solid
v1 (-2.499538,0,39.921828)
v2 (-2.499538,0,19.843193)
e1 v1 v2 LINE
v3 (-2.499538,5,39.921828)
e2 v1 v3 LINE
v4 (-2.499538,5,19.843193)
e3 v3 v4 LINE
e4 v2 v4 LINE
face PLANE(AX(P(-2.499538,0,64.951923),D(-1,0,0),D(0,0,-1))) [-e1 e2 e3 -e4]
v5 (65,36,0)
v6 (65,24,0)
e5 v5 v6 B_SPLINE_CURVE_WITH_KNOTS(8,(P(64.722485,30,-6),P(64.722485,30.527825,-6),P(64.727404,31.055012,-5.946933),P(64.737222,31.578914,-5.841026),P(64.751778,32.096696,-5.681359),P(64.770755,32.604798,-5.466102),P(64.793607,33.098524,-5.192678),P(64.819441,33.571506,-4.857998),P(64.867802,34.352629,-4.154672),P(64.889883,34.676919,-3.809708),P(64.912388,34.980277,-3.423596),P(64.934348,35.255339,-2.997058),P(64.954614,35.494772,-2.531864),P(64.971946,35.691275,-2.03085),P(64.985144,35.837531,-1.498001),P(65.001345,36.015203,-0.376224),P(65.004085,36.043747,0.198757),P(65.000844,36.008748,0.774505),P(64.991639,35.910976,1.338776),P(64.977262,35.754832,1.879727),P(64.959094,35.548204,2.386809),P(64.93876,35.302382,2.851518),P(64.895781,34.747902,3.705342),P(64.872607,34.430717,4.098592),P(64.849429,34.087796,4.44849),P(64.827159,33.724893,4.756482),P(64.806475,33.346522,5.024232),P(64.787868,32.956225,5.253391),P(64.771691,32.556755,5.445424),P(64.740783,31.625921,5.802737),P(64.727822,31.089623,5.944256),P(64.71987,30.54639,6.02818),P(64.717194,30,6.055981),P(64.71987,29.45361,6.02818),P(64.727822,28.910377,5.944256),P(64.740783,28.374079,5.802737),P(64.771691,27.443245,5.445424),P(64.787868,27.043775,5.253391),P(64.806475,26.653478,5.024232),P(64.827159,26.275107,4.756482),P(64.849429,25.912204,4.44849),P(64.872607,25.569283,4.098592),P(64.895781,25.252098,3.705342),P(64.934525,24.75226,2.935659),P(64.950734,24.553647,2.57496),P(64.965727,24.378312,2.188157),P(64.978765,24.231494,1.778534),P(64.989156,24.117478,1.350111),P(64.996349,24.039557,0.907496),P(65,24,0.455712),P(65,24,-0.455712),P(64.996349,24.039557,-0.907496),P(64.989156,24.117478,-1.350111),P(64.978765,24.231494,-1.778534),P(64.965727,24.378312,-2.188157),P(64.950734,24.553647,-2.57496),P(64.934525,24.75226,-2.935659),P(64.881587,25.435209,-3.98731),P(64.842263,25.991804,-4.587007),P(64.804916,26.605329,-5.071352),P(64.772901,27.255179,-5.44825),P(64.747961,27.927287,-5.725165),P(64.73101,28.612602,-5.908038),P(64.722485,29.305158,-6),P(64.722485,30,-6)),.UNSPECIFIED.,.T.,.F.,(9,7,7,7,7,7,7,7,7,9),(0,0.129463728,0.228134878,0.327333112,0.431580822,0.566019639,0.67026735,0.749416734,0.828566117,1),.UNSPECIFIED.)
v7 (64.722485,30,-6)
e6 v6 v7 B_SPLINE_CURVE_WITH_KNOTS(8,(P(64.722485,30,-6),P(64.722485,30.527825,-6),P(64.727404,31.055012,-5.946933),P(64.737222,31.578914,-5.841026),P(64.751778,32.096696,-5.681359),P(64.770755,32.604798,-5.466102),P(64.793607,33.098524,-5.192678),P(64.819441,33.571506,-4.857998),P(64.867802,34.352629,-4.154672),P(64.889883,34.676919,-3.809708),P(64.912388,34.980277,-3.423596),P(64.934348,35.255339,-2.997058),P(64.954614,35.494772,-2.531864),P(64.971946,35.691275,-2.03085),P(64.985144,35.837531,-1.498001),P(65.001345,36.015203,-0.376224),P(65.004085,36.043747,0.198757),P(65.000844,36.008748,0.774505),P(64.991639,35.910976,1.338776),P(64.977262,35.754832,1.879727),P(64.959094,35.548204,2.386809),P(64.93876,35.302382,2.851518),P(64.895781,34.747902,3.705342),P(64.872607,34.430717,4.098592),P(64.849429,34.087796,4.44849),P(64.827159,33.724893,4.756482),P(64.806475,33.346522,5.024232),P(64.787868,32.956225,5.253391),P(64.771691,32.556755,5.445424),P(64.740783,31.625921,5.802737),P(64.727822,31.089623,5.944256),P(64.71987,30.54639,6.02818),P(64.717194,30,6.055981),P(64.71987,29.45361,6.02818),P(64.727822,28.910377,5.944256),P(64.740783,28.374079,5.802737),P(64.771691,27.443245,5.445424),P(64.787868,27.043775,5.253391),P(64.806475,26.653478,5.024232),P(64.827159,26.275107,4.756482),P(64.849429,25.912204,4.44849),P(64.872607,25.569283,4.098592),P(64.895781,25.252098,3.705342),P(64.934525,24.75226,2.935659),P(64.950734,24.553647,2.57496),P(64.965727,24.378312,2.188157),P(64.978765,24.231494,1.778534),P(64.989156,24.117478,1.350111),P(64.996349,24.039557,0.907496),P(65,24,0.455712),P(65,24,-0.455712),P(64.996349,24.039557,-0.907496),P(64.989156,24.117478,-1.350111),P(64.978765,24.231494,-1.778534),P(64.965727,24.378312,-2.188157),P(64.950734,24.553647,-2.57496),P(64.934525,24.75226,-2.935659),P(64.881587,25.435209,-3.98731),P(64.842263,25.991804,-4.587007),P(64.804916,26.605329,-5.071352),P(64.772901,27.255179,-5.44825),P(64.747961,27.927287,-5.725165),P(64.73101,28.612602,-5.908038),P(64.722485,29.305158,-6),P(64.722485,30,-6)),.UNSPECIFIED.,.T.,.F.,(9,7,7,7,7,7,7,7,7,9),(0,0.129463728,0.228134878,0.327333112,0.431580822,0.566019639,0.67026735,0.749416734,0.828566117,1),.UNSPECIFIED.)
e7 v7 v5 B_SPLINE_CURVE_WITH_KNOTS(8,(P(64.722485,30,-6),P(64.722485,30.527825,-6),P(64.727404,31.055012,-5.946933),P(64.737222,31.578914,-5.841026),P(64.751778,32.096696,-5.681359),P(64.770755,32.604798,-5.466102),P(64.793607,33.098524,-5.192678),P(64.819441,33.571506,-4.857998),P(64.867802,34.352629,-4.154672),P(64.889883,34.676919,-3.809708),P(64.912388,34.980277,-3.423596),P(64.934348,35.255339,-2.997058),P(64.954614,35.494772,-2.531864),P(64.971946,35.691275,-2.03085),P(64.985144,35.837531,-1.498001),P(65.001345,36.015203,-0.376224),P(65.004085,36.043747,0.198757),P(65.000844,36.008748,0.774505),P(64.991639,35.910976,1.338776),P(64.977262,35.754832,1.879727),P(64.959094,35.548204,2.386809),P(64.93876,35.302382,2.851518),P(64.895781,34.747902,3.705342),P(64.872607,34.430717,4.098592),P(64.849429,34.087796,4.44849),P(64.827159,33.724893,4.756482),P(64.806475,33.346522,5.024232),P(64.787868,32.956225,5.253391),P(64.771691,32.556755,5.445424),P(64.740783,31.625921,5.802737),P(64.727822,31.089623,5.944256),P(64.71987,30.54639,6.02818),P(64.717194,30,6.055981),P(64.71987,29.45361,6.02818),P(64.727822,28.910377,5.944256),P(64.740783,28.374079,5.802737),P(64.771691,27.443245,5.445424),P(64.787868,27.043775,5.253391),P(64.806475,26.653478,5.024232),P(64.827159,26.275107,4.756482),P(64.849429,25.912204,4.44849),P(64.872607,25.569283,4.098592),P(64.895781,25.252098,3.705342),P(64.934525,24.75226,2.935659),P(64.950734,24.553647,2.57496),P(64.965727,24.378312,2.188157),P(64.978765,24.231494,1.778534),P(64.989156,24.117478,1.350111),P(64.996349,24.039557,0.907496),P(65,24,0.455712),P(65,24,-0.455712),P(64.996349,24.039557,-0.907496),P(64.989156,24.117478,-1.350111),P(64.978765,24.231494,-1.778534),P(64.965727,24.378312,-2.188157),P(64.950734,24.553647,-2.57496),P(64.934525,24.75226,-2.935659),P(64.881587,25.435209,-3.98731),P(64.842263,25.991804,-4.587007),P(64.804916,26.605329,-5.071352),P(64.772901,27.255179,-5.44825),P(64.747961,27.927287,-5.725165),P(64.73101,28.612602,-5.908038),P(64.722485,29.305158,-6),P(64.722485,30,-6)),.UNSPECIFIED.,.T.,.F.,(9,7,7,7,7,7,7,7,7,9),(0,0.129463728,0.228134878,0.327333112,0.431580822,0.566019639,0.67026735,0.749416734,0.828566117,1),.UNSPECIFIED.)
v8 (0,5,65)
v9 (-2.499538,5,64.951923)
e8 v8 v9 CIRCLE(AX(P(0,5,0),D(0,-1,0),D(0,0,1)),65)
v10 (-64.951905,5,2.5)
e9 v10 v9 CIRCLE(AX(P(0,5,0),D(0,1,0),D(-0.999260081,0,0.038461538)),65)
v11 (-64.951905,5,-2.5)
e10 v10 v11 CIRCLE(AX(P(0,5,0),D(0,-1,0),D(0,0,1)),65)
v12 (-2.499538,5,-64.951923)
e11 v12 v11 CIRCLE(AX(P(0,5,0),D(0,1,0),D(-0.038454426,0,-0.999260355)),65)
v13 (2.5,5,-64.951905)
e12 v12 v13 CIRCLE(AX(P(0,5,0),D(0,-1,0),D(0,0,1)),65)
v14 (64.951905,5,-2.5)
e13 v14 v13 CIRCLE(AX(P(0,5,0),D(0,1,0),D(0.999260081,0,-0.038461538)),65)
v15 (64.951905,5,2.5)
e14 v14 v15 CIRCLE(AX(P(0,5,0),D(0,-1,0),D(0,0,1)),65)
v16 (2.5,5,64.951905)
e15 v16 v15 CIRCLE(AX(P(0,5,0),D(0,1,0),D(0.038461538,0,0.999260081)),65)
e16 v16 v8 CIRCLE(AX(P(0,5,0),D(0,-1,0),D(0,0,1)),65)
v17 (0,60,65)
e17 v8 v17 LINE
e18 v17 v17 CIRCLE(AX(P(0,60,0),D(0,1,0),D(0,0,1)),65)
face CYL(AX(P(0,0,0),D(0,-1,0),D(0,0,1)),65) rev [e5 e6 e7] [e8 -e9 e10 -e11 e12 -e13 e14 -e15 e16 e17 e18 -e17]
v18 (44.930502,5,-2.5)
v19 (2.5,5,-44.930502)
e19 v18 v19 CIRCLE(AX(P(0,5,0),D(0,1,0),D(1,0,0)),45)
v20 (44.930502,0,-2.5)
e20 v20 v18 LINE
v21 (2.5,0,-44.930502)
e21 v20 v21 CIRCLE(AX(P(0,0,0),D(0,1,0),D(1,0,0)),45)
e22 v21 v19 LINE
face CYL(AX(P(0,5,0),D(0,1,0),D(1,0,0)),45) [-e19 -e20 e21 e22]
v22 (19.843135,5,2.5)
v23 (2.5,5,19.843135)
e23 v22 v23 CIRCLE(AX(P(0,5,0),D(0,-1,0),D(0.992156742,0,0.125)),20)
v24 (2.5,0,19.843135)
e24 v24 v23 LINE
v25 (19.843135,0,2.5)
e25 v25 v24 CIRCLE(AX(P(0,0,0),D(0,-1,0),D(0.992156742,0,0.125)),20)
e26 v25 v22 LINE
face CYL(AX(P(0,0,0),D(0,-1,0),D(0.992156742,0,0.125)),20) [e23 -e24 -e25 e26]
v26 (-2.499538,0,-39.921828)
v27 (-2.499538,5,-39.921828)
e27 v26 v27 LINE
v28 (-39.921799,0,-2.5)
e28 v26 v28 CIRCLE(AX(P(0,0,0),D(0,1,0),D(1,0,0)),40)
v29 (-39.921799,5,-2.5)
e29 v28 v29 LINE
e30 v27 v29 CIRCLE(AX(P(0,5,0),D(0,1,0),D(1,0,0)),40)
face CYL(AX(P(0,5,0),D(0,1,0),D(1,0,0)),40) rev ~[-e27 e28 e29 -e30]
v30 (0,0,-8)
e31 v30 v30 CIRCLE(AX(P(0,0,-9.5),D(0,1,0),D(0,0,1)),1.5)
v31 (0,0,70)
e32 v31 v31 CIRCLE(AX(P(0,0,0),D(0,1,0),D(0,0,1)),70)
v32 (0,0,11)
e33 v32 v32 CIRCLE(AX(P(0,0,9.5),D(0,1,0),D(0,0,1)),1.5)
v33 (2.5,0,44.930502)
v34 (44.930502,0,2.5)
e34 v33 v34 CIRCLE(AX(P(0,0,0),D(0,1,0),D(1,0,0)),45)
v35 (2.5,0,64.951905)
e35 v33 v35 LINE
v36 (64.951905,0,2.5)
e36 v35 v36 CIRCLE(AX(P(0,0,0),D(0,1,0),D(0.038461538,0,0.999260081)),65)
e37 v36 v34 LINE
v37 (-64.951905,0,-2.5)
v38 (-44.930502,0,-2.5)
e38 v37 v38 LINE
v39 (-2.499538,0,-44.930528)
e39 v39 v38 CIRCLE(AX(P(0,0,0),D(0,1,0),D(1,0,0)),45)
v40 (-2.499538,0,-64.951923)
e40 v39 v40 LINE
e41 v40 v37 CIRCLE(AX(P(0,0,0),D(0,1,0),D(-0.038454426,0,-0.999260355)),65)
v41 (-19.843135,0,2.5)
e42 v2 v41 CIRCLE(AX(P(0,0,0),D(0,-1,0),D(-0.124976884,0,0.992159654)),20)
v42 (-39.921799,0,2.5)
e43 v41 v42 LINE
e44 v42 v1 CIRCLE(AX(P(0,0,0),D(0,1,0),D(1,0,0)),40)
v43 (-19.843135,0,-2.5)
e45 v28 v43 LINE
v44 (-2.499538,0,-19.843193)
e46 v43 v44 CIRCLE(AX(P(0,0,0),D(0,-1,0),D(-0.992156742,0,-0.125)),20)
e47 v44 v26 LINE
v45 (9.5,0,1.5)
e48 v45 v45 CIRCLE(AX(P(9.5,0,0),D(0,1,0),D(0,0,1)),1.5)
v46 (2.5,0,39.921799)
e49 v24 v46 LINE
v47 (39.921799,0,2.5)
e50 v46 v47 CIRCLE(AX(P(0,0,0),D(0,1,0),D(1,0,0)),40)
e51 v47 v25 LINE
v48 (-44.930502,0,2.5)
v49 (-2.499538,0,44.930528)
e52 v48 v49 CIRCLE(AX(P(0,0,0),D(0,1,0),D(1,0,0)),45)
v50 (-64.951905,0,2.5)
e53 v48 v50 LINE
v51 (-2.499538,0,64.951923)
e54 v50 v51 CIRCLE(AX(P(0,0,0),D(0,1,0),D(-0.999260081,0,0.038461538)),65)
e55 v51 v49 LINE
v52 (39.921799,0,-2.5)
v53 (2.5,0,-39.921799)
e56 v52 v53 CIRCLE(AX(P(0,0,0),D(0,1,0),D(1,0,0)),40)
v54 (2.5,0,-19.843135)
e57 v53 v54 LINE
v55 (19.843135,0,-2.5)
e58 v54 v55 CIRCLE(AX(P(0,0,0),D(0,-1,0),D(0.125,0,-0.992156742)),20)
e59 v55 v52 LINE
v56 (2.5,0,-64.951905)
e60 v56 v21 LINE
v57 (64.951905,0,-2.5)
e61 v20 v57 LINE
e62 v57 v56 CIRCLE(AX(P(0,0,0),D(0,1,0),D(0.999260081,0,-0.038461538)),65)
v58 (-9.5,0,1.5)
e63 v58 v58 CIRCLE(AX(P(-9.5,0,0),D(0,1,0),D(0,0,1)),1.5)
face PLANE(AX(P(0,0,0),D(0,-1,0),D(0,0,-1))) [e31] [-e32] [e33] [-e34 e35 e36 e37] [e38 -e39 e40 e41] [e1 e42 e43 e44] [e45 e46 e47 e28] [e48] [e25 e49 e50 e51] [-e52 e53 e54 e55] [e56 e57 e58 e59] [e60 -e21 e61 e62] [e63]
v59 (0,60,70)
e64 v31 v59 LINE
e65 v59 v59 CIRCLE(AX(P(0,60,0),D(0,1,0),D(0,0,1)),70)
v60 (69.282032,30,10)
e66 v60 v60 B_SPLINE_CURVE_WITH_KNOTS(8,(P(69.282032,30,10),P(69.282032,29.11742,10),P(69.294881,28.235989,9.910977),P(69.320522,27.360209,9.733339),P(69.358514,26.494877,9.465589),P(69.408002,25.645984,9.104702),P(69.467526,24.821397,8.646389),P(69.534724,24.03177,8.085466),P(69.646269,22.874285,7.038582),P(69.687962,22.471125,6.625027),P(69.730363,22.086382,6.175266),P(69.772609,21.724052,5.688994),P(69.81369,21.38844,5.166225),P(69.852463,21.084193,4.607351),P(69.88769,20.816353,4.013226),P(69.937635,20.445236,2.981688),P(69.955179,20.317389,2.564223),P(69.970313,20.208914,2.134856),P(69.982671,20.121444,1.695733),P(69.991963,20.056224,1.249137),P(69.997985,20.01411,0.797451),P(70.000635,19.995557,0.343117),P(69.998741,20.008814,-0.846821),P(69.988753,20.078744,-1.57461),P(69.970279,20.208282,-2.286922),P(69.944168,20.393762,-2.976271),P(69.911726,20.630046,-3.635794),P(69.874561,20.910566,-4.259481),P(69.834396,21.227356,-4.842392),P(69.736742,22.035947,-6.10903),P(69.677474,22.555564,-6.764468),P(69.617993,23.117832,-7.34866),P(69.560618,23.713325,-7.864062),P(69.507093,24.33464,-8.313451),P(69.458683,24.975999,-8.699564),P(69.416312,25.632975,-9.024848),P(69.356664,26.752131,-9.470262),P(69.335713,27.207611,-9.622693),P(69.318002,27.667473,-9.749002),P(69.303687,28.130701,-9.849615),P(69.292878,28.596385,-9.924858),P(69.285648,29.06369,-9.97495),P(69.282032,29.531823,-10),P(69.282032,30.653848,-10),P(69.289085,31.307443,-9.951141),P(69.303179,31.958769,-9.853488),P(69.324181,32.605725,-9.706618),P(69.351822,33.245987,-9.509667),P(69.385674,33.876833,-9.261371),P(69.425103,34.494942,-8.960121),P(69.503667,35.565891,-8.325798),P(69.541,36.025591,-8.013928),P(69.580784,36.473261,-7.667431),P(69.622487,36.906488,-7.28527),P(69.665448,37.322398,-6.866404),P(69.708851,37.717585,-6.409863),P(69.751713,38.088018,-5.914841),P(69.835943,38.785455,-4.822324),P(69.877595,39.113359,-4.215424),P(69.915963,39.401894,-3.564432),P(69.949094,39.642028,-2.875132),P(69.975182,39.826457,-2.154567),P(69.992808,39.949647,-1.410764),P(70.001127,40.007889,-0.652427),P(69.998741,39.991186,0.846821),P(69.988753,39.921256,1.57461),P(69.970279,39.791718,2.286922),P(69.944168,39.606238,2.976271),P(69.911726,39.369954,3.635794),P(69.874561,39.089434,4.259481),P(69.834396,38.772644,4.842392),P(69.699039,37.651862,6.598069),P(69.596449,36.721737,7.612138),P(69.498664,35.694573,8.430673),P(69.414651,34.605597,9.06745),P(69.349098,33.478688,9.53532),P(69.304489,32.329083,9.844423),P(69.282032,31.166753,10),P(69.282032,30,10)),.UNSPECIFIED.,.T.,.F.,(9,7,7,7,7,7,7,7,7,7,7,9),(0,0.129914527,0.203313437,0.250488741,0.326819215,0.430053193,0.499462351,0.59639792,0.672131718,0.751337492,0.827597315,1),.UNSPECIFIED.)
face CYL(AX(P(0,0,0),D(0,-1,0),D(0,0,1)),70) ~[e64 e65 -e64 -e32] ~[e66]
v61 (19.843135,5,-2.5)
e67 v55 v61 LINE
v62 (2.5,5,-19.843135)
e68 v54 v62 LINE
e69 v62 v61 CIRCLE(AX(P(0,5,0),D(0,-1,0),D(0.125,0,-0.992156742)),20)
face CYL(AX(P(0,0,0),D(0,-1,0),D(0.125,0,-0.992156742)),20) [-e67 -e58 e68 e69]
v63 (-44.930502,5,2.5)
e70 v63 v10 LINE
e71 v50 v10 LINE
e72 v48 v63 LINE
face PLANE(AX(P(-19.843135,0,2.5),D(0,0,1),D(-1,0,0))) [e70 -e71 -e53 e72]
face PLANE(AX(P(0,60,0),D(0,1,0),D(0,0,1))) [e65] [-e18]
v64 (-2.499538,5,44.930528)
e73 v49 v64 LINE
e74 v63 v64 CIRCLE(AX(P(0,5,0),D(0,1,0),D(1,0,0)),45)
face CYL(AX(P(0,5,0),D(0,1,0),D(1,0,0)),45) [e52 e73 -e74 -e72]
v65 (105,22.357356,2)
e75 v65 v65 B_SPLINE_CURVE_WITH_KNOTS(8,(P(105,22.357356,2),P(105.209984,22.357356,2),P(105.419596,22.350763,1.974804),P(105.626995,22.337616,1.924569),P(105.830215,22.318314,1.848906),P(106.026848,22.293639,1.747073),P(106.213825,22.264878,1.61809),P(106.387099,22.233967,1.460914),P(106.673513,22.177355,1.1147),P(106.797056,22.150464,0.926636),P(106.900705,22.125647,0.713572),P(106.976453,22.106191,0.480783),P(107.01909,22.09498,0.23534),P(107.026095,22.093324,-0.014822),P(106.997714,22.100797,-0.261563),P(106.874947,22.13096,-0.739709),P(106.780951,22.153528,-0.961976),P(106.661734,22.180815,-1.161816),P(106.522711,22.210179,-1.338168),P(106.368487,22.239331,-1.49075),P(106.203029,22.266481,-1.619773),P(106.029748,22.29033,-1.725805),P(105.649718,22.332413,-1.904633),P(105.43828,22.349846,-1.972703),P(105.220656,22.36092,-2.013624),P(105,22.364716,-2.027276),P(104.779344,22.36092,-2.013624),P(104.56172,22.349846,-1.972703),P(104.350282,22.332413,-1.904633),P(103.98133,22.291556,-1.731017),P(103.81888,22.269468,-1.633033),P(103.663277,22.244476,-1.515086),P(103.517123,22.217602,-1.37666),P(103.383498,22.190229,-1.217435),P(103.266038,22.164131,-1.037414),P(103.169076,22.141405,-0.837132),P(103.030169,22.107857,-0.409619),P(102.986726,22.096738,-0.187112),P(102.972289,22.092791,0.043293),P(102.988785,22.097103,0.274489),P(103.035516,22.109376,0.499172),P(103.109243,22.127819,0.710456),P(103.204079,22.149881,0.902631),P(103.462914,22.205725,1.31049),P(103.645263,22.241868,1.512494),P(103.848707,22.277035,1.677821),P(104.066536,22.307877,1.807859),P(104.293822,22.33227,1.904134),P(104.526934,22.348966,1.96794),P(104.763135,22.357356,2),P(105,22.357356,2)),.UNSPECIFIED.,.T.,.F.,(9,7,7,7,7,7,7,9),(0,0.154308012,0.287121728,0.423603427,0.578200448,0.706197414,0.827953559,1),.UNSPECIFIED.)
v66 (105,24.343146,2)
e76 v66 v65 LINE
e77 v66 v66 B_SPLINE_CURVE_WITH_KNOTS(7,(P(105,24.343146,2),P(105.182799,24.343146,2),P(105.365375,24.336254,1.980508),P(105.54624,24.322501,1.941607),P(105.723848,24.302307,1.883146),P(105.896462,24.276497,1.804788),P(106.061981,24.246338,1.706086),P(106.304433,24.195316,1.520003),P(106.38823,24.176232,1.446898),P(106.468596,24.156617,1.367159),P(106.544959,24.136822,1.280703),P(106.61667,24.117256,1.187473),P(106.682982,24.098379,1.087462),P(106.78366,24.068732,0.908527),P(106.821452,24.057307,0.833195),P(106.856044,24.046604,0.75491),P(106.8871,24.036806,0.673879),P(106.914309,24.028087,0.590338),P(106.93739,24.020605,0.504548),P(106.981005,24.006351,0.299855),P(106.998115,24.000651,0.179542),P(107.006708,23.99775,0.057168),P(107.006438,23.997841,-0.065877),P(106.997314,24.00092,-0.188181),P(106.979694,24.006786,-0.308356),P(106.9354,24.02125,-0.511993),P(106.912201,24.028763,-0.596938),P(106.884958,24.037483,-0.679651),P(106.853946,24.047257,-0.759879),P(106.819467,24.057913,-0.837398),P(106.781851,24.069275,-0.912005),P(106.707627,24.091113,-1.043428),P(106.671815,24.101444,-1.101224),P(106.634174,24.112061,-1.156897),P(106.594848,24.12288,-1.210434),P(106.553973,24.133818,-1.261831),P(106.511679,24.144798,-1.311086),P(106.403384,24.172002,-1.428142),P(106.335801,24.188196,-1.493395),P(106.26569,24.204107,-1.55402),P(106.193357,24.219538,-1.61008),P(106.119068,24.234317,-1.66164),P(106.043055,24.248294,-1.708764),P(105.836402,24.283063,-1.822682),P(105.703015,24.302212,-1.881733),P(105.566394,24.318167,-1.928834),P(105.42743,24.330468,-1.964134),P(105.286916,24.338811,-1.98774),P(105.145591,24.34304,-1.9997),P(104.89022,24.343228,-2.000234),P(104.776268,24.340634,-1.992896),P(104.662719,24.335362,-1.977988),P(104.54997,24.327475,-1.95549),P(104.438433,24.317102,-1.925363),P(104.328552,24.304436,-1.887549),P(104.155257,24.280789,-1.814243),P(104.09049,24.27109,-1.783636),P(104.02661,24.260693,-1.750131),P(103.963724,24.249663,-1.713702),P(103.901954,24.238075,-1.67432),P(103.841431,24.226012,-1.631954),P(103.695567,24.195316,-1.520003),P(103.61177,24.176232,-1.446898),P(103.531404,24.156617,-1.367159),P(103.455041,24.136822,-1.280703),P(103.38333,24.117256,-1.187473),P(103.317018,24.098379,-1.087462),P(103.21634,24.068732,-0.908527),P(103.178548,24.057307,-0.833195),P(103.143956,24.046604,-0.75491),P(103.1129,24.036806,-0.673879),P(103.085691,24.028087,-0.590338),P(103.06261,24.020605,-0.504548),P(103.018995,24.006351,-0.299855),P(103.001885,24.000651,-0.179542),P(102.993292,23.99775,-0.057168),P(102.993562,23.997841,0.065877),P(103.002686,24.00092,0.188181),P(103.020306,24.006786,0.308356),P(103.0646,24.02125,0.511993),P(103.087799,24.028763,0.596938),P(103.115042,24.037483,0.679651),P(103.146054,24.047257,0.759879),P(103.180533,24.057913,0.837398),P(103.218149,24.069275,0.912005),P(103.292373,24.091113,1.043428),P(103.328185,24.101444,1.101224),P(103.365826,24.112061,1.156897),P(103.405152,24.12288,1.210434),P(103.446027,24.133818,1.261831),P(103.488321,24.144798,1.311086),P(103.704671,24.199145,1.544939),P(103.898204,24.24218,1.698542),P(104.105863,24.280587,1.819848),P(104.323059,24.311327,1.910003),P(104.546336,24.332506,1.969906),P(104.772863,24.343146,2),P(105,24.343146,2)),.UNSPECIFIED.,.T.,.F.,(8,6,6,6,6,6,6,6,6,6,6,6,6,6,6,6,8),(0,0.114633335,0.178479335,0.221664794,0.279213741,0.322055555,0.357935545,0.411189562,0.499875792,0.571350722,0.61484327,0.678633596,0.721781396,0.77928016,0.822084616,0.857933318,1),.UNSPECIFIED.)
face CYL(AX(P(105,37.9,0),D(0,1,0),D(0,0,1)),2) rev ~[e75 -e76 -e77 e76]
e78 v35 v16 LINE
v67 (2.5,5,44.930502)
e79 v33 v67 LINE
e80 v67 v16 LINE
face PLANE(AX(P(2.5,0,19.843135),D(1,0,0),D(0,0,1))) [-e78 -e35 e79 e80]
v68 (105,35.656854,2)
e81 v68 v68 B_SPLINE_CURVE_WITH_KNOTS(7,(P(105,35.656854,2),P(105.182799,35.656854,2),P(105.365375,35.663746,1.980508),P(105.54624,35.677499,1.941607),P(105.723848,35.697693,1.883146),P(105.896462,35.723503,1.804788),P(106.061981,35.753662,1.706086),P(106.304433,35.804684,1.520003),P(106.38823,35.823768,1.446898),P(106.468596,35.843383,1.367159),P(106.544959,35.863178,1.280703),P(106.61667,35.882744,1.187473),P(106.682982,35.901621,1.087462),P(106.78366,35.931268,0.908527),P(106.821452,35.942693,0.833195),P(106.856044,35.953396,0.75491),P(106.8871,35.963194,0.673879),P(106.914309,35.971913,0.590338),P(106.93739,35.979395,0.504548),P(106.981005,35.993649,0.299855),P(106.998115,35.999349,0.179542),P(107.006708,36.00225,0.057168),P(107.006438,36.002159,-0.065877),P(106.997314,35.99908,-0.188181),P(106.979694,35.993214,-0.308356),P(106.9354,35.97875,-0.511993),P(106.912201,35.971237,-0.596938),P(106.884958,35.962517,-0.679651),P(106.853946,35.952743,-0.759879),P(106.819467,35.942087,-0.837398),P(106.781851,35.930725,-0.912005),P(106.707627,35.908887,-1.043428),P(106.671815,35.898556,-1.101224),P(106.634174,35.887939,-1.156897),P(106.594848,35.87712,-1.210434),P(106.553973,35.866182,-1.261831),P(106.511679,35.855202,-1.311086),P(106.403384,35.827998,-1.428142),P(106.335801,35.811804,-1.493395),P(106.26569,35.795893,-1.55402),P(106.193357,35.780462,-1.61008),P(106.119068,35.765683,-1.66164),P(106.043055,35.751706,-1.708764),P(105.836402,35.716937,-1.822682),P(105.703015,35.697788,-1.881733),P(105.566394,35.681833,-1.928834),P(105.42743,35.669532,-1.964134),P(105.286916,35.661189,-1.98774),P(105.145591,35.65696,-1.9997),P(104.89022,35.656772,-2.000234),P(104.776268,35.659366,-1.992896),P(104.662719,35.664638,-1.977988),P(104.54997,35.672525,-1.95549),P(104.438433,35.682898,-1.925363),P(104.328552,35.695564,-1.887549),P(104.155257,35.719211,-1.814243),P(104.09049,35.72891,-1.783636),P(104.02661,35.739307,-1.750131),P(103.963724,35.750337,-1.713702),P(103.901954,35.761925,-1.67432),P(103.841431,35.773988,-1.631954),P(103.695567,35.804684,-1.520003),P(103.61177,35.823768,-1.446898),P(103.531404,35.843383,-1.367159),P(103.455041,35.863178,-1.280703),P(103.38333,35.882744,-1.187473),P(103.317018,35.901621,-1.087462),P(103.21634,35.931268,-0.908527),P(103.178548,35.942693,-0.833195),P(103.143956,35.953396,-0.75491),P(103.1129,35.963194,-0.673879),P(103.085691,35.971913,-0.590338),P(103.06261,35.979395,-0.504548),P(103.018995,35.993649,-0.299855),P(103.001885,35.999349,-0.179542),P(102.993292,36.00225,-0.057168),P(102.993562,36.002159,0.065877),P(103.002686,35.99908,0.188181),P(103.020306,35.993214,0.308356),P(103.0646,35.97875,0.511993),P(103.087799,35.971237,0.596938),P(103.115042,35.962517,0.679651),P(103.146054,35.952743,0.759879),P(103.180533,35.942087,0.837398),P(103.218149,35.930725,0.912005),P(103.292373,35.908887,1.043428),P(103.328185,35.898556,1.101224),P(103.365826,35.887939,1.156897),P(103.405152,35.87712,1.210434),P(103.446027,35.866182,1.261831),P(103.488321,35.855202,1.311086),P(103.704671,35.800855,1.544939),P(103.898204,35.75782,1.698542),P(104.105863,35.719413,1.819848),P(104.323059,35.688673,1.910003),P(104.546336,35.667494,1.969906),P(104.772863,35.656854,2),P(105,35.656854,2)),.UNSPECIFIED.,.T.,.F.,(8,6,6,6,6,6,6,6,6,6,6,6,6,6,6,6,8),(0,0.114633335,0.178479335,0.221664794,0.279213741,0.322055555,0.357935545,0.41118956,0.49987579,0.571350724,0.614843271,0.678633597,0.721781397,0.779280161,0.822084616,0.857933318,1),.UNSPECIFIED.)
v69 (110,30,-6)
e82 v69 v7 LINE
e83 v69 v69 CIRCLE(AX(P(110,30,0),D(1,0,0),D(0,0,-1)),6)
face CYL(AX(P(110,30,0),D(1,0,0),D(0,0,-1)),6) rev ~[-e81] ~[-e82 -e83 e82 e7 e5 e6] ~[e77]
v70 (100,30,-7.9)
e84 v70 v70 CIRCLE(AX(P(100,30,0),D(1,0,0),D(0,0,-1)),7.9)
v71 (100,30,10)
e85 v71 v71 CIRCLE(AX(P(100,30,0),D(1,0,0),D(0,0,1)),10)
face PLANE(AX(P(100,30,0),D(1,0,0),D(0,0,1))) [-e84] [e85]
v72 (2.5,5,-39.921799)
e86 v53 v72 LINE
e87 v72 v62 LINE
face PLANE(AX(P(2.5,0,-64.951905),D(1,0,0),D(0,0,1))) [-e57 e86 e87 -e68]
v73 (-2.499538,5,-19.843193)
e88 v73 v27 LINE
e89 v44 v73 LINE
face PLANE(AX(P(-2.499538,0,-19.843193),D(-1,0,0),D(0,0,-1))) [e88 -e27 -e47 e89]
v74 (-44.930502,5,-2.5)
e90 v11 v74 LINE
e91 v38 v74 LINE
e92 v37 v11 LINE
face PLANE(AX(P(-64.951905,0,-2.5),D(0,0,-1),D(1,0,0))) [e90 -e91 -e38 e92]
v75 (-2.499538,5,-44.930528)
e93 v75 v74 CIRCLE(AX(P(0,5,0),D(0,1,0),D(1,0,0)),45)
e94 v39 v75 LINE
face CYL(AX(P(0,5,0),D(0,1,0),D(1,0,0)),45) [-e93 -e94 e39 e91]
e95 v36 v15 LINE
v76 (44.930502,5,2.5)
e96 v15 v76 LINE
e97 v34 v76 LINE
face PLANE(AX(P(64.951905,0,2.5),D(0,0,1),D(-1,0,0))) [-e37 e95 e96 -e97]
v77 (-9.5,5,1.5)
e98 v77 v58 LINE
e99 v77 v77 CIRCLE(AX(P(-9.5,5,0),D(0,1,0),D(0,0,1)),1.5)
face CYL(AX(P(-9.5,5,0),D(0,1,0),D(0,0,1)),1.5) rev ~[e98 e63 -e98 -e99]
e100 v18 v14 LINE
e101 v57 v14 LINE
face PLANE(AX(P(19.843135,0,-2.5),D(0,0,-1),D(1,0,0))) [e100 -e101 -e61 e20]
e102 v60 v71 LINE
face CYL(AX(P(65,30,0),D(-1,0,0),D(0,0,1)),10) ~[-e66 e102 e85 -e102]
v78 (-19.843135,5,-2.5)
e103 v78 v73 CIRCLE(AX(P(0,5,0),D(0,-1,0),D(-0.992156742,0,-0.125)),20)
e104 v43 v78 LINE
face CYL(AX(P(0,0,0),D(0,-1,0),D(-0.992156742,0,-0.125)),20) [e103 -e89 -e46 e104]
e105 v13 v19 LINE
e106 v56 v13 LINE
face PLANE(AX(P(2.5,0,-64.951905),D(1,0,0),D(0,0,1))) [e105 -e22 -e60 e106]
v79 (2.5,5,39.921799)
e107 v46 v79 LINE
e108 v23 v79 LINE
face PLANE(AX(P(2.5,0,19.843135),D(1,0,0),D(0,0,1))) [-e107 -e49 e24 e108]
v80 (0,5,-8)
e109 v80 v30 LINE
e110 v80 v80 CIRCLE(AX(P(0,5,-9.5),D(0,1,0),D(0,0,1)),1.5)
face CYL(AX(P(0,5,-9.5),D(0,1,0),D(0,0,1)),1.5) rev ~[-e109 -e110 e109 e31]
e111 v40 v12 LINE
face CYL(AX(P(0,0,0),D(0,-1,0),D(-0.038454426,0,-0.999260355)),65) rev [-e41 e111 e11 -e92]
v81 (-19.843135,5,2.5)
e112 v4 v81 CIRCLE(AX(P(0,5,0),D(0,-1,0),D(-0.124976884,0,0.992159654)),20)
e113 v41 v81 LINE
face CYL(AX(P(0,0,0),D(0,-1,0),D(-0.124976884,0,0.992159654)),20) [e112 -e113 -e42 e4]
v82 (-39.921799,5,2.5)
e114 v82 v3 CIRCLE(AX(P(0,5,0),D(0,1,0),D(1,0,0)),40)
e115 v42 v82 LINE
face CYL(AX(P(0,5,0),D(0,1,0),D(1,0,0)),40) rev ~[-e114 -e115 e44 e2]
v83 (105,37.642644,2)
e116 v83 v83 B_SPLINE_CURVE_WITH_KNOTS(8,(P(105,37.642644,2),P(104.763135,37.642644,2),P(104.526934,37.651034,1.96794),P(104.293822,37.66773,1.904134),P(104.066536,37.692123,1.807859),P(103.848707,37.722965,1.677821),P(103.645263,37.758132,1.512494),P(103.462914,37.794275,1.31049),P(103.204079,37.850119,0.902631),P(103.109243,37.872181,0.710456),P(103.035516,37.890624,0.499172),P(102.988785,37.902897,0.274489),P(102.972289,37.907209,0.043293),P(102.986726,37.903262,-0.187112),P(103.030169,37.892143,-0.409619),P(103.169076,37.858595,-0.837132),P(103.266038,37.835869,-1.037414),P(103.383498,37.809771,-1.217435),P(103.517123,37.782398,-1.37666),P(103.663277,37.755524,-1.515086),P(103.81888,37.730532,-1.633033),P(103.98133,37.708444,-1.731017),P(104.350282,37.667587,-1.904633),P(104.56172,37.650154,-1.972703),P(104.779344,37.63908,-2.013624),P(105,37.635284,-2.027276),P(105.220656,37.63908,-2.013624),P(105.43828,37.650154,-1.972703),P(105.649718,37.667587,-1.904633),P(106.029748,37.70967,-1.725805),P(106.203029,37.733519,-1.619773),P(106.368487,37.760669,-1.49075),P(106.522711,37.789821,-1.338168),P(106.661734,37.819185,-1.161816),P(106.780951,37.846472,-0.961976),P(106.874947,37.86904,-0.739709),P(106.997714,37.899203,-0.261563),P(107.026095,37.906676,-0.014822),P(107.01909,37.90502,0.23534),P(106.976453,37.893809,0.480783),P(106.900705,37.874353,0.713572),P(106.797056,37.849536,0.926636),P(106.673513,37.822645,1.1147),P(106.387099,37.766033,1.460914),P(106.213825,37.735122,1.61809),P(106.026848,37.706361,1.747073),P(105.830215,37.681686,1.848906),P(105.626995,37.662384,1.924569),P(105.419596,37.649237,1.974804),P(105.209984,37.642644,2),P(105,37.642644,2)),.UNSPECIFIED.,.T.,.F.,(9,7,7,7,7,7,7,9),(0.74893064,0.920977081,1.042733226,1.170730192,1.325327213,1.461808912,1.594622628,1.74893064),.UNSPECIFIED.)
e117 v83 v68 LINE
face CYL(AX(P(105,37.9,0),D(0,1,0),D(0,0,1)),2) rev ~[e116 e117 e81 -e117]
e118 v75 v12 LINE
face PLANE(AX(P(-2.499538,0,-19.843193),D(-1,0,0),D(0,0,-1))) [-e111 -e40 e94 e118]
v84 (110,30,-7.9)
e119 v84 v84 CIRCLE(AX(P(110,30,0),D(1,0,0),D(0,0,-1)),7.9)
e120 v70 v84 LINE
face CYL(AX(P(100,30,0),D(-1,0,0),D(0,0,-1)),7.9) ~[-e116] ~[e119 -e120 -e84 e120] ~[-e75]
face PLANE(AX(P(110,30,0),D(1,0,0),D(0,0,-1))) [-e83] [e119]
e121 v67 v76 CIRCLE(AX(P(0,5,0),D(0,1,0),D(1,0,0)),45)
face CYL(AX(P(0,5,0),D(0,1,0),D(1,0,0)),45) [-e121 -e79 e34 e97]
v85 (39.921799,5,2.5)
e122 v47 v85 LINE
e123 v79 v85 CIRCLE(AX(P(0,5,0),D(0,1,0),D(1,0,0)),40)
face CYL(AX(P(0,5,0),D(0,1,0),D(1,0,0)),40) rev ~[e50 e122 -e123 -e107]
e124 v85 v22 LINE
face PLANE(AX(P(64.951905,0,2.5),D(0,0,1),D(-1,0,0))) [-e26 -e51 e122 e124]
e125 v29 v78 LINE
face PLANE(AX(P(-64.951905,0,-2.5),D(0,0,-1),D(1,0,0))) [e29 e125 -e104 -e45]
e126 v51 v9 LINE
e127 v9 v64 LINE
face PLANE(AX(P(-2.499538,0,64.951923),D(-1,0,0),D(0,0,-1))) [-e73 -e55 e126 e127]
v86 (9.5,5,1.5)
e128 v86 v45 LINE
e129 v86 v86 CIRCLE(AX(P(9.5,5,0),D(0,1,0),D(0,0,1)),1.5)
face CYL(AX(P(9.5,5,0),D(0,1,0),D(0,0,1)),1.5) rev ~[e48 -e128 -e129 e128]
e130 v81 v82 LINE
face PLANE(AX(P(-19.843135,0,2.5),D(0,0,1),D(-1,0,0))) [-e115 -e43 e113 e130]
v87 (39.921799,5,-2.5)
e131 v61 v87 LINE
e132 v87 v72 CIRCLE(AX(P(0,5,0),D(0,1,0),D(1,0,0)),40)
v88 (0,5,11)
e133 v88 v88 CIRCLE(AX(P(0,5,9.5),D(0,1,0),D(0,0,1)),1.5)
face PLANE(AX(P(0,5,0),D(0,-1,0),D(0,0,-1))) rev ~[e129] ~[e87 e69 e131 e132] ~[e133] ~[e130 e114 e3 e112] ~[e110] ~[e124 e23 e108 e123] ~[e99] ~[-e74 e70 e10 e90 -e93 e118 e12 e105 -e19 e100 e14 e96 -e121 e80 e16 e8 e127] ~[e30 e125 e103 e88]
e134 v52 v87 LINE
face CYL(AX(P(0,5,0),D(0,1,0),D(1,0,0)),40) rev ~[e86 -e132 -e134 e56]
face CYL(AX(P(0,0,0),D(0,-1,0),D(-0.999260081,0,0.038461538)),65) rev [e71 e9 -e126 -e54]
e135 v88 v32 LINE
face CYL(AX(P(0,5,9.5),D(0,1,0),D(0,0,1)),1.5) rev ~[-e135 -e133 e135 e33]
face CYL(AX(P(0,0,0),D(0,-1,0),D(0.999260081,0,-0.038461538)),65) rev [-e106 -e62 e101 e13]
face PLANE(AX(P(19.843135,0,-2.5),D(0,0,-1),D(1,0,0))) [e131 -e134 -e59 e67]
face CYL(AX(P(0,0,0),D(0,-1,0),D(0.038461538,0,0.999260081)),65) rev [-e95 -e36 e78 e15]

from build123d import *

# Parameters (mm, degrees)
SKETCH1_R                = 70
SKETCH1_R_2              = 65
BOSS_EXTRUDE2_DEPTH      = 60
SKETCH3_R                = 65
BOSS_EXTRUDE4_DEPTH      = 5
CUT_EXTRUDE1_START       = -5
CUT_EXTRUDE1_DEPTH       = 5
SKETCH5_R                = 1.5
CUT_EXTRUDE2_DEPTH       = 5
SKETCH6_R                = 45
SKETCH6_R_2              = 40
BOSS_EXTRUDE5_DEPTH      = 5
BOSS_EXTRUDE7_DEPTH      = 30
BOSS_EXTRUDE7_DEPTH_BACK = 5
SKETCH8_R                = 10
SKETCH10_R               = 7.9
BOSS_EXTRUDE8_DEPTH      = 10
SKETCH11_R               = 6
CUT_EXTRUDE4_DEPTH       = 50
SKETCH13_R               = 2
CUT_EXTRUDE5_DEPTH       = 50


with BuildPart() as part:
    # Sketch1 → Boss-Extrude2 (new body)
    with BuildSketch(Plane(origin=(0, 0, 0), x_dir=(1, 0, 0), z_dir=(0, 1, 0))):
        Circle(SKETCH1_R)
        Circle(SKETCH1_R_2, mode=Mode.SUBTRACT)
    extrude(amount=BOSS_EXTRUDE2_DEPTH)

    # Sketch3 → Boss-Extrude4 (add)
    with BuildSketch(Plane(origin=(0, 0, 0), x_dir=(-1, 0, 0), z_dir=(0, -1, 0))):
        Circle(SKETCH3_R)
    extrude(amount=-BOSS_EXTRUDE4_DEPTH)

    # Sketch4 → Cut-Extrude1 (cut)
    with BuildSketch(Plane(origin=(0, 5, 0), x_dir=(1, 0, 0), z_dir=(0, 1, 0)).offset(CUT_EXTRUDE1_START)):
        with BuildLine():
            ThreePointArc((2.5, 19.843134833), (14.142135624, 14.142135624), (19.843134833, 2.5))
            Line((19.843134833, 2.5), (64.951905284, 2.5))
            ThreePointArc((64.951905284, 2.5), (45.961940777, 45.961940777), (2.5, 64.951905284))
            Line((2.5, 64.951905284), (2.5, 19.843134833))
        make_face()
        with BuildLine():
            Line((64.951905284, -2.5), (19.843134833, -2.5))
            ThreePointArc((19.843134833, -2.5), (14.142135624, -14.142135624), (2.5, -19.843134833))
            Line((2.5, -19.843134833), (2.5, -64.951905284))
            ThreePointArc((2.5, -64.951905284), (45.961940777, -45.961940777), (64.951905284, -2.5))
        make_face()
        with BuildLine():
            ThreePointArc((-19.843134833, 2.5), (-14.141970876, 14.14230037), (-2.499537679, 19.843193074))
            Line((-2.499537679, 19.843193074), (-2.499537679, 64.951923077))
            ThreePointArc((-2.499537679, 64.951923077), (-45.961777201, 45.962104353), (-64.951905284, 2.5))
            Line((-64.951905284, 2.5), (-19.843134833, 2.5))
        make_face()
        with BuildLine():
            Line((-2.499537679, -64.951923077), (-2.499537679, -19.843193074))
            ThreePointArc((-2.499537679, -19.843193074), (-14.141970876, -14.14230037), (-19.843134833, -2.5))
            Line((-19.843134833, -2.5), (-64.951905284, -2.5))
            ThreePointArc((-64.951905284, -2.5), (-45.961777201, -45.962104353), (-2.499537679, -64.951923077))
        make_face()
    extrude(amount=CUT_EXTRUDE1_DEPTH, mode=Mode.SUBTRACT)

    # Sketch5 → Cut-Extrude2 (cut)
    with BuildSketch(Plane(origin=(0, 5, 0), x_dir=(1, 0, 0), z_dir=(0, 1, 0))):
        with Locations((9.5, 0)):
            Circle(SKETCH5_R)
        with Locations((-9.5, 0)):
            Circle(SKETCH5_R)
        with Locations((0, 9.5)):
            Circle(SKETCH5_R)
        with Locations((0, -9.5)):
            Circle(SKETCH5_R)
    extrude(amount=-CUT_EXTRUDE2_DEPTH, mode=Mode.SUBTRACT)

    # Sketch6 → Boss-Extrude5 (add)
    with BuildSketch(Plane(origin=(0, 5, 0), x_dir=(1, 0, 0), z_dir=(0, 1, 0))):
        Circle(SKETCH6_R)
        Circle(SKETCH6_R_2, mode=Mode.SUBTRACT)
    extrude(amount=-BOSS_EXTRUDE5_DEPTH)

    # Sketch8 → Boss-Extrude7 (add, two sides: drawn at the far end of the back side and taken through both)
    with BuildSketch(Plane(origin=(70, 0, 0), x_dir=(0, 0, -1), z_dir=(1, 0, 0)).offset(-BOSS_EXTRUDE7_DEPTH_BACK)):
        with Locations((0, 30)):
            Circle(SKETCH8_R)
    extrude(amount=BOSS_EXTRUDE7_DEPTH + BOSS_EXTRUDE7_DEPTH_BACK)

    # Sketch10 → Boss-Extrude8 (add)
    with BuildSketch(Plane(origin=(100, 0, 0), x_dir=(0, 0, -1), z_dir=(1, 0, 0))):
        with Locations((0, 30)):
            Circle(SKETCH10_R)
    extrude(amount=BOSS_EXTRUDE8_DEPTH)

    # Sketch11 → Cut-Extrude4 (cut)
    with BuildSketch(Plane(origin=(110, 0, 0), x_dir=(0, 0, -1), z_dir=(1, 0, 0))):
        with Locations((0, 30)):
            Circle(SKETCH11_R)
    extrude(amount=-CUT_EXTRUDE4_DEPTH, mode=Mode.SUBTRACT)

    # Sketch13 → Cut-Extrude5 (cut)
    with BuildSketch(Plane(origin=(110, 37.9, 0), x_dir=(1, 0, 0), z_dir=(0, 1, 0))):
        with Locations((-5, 0)):
            Circle(SKETCH13_R)
    extrude(amount=-CUT_EXTRUDE5_DEPTH, mode=Mode.SUBTRACT)


solid = part.part
